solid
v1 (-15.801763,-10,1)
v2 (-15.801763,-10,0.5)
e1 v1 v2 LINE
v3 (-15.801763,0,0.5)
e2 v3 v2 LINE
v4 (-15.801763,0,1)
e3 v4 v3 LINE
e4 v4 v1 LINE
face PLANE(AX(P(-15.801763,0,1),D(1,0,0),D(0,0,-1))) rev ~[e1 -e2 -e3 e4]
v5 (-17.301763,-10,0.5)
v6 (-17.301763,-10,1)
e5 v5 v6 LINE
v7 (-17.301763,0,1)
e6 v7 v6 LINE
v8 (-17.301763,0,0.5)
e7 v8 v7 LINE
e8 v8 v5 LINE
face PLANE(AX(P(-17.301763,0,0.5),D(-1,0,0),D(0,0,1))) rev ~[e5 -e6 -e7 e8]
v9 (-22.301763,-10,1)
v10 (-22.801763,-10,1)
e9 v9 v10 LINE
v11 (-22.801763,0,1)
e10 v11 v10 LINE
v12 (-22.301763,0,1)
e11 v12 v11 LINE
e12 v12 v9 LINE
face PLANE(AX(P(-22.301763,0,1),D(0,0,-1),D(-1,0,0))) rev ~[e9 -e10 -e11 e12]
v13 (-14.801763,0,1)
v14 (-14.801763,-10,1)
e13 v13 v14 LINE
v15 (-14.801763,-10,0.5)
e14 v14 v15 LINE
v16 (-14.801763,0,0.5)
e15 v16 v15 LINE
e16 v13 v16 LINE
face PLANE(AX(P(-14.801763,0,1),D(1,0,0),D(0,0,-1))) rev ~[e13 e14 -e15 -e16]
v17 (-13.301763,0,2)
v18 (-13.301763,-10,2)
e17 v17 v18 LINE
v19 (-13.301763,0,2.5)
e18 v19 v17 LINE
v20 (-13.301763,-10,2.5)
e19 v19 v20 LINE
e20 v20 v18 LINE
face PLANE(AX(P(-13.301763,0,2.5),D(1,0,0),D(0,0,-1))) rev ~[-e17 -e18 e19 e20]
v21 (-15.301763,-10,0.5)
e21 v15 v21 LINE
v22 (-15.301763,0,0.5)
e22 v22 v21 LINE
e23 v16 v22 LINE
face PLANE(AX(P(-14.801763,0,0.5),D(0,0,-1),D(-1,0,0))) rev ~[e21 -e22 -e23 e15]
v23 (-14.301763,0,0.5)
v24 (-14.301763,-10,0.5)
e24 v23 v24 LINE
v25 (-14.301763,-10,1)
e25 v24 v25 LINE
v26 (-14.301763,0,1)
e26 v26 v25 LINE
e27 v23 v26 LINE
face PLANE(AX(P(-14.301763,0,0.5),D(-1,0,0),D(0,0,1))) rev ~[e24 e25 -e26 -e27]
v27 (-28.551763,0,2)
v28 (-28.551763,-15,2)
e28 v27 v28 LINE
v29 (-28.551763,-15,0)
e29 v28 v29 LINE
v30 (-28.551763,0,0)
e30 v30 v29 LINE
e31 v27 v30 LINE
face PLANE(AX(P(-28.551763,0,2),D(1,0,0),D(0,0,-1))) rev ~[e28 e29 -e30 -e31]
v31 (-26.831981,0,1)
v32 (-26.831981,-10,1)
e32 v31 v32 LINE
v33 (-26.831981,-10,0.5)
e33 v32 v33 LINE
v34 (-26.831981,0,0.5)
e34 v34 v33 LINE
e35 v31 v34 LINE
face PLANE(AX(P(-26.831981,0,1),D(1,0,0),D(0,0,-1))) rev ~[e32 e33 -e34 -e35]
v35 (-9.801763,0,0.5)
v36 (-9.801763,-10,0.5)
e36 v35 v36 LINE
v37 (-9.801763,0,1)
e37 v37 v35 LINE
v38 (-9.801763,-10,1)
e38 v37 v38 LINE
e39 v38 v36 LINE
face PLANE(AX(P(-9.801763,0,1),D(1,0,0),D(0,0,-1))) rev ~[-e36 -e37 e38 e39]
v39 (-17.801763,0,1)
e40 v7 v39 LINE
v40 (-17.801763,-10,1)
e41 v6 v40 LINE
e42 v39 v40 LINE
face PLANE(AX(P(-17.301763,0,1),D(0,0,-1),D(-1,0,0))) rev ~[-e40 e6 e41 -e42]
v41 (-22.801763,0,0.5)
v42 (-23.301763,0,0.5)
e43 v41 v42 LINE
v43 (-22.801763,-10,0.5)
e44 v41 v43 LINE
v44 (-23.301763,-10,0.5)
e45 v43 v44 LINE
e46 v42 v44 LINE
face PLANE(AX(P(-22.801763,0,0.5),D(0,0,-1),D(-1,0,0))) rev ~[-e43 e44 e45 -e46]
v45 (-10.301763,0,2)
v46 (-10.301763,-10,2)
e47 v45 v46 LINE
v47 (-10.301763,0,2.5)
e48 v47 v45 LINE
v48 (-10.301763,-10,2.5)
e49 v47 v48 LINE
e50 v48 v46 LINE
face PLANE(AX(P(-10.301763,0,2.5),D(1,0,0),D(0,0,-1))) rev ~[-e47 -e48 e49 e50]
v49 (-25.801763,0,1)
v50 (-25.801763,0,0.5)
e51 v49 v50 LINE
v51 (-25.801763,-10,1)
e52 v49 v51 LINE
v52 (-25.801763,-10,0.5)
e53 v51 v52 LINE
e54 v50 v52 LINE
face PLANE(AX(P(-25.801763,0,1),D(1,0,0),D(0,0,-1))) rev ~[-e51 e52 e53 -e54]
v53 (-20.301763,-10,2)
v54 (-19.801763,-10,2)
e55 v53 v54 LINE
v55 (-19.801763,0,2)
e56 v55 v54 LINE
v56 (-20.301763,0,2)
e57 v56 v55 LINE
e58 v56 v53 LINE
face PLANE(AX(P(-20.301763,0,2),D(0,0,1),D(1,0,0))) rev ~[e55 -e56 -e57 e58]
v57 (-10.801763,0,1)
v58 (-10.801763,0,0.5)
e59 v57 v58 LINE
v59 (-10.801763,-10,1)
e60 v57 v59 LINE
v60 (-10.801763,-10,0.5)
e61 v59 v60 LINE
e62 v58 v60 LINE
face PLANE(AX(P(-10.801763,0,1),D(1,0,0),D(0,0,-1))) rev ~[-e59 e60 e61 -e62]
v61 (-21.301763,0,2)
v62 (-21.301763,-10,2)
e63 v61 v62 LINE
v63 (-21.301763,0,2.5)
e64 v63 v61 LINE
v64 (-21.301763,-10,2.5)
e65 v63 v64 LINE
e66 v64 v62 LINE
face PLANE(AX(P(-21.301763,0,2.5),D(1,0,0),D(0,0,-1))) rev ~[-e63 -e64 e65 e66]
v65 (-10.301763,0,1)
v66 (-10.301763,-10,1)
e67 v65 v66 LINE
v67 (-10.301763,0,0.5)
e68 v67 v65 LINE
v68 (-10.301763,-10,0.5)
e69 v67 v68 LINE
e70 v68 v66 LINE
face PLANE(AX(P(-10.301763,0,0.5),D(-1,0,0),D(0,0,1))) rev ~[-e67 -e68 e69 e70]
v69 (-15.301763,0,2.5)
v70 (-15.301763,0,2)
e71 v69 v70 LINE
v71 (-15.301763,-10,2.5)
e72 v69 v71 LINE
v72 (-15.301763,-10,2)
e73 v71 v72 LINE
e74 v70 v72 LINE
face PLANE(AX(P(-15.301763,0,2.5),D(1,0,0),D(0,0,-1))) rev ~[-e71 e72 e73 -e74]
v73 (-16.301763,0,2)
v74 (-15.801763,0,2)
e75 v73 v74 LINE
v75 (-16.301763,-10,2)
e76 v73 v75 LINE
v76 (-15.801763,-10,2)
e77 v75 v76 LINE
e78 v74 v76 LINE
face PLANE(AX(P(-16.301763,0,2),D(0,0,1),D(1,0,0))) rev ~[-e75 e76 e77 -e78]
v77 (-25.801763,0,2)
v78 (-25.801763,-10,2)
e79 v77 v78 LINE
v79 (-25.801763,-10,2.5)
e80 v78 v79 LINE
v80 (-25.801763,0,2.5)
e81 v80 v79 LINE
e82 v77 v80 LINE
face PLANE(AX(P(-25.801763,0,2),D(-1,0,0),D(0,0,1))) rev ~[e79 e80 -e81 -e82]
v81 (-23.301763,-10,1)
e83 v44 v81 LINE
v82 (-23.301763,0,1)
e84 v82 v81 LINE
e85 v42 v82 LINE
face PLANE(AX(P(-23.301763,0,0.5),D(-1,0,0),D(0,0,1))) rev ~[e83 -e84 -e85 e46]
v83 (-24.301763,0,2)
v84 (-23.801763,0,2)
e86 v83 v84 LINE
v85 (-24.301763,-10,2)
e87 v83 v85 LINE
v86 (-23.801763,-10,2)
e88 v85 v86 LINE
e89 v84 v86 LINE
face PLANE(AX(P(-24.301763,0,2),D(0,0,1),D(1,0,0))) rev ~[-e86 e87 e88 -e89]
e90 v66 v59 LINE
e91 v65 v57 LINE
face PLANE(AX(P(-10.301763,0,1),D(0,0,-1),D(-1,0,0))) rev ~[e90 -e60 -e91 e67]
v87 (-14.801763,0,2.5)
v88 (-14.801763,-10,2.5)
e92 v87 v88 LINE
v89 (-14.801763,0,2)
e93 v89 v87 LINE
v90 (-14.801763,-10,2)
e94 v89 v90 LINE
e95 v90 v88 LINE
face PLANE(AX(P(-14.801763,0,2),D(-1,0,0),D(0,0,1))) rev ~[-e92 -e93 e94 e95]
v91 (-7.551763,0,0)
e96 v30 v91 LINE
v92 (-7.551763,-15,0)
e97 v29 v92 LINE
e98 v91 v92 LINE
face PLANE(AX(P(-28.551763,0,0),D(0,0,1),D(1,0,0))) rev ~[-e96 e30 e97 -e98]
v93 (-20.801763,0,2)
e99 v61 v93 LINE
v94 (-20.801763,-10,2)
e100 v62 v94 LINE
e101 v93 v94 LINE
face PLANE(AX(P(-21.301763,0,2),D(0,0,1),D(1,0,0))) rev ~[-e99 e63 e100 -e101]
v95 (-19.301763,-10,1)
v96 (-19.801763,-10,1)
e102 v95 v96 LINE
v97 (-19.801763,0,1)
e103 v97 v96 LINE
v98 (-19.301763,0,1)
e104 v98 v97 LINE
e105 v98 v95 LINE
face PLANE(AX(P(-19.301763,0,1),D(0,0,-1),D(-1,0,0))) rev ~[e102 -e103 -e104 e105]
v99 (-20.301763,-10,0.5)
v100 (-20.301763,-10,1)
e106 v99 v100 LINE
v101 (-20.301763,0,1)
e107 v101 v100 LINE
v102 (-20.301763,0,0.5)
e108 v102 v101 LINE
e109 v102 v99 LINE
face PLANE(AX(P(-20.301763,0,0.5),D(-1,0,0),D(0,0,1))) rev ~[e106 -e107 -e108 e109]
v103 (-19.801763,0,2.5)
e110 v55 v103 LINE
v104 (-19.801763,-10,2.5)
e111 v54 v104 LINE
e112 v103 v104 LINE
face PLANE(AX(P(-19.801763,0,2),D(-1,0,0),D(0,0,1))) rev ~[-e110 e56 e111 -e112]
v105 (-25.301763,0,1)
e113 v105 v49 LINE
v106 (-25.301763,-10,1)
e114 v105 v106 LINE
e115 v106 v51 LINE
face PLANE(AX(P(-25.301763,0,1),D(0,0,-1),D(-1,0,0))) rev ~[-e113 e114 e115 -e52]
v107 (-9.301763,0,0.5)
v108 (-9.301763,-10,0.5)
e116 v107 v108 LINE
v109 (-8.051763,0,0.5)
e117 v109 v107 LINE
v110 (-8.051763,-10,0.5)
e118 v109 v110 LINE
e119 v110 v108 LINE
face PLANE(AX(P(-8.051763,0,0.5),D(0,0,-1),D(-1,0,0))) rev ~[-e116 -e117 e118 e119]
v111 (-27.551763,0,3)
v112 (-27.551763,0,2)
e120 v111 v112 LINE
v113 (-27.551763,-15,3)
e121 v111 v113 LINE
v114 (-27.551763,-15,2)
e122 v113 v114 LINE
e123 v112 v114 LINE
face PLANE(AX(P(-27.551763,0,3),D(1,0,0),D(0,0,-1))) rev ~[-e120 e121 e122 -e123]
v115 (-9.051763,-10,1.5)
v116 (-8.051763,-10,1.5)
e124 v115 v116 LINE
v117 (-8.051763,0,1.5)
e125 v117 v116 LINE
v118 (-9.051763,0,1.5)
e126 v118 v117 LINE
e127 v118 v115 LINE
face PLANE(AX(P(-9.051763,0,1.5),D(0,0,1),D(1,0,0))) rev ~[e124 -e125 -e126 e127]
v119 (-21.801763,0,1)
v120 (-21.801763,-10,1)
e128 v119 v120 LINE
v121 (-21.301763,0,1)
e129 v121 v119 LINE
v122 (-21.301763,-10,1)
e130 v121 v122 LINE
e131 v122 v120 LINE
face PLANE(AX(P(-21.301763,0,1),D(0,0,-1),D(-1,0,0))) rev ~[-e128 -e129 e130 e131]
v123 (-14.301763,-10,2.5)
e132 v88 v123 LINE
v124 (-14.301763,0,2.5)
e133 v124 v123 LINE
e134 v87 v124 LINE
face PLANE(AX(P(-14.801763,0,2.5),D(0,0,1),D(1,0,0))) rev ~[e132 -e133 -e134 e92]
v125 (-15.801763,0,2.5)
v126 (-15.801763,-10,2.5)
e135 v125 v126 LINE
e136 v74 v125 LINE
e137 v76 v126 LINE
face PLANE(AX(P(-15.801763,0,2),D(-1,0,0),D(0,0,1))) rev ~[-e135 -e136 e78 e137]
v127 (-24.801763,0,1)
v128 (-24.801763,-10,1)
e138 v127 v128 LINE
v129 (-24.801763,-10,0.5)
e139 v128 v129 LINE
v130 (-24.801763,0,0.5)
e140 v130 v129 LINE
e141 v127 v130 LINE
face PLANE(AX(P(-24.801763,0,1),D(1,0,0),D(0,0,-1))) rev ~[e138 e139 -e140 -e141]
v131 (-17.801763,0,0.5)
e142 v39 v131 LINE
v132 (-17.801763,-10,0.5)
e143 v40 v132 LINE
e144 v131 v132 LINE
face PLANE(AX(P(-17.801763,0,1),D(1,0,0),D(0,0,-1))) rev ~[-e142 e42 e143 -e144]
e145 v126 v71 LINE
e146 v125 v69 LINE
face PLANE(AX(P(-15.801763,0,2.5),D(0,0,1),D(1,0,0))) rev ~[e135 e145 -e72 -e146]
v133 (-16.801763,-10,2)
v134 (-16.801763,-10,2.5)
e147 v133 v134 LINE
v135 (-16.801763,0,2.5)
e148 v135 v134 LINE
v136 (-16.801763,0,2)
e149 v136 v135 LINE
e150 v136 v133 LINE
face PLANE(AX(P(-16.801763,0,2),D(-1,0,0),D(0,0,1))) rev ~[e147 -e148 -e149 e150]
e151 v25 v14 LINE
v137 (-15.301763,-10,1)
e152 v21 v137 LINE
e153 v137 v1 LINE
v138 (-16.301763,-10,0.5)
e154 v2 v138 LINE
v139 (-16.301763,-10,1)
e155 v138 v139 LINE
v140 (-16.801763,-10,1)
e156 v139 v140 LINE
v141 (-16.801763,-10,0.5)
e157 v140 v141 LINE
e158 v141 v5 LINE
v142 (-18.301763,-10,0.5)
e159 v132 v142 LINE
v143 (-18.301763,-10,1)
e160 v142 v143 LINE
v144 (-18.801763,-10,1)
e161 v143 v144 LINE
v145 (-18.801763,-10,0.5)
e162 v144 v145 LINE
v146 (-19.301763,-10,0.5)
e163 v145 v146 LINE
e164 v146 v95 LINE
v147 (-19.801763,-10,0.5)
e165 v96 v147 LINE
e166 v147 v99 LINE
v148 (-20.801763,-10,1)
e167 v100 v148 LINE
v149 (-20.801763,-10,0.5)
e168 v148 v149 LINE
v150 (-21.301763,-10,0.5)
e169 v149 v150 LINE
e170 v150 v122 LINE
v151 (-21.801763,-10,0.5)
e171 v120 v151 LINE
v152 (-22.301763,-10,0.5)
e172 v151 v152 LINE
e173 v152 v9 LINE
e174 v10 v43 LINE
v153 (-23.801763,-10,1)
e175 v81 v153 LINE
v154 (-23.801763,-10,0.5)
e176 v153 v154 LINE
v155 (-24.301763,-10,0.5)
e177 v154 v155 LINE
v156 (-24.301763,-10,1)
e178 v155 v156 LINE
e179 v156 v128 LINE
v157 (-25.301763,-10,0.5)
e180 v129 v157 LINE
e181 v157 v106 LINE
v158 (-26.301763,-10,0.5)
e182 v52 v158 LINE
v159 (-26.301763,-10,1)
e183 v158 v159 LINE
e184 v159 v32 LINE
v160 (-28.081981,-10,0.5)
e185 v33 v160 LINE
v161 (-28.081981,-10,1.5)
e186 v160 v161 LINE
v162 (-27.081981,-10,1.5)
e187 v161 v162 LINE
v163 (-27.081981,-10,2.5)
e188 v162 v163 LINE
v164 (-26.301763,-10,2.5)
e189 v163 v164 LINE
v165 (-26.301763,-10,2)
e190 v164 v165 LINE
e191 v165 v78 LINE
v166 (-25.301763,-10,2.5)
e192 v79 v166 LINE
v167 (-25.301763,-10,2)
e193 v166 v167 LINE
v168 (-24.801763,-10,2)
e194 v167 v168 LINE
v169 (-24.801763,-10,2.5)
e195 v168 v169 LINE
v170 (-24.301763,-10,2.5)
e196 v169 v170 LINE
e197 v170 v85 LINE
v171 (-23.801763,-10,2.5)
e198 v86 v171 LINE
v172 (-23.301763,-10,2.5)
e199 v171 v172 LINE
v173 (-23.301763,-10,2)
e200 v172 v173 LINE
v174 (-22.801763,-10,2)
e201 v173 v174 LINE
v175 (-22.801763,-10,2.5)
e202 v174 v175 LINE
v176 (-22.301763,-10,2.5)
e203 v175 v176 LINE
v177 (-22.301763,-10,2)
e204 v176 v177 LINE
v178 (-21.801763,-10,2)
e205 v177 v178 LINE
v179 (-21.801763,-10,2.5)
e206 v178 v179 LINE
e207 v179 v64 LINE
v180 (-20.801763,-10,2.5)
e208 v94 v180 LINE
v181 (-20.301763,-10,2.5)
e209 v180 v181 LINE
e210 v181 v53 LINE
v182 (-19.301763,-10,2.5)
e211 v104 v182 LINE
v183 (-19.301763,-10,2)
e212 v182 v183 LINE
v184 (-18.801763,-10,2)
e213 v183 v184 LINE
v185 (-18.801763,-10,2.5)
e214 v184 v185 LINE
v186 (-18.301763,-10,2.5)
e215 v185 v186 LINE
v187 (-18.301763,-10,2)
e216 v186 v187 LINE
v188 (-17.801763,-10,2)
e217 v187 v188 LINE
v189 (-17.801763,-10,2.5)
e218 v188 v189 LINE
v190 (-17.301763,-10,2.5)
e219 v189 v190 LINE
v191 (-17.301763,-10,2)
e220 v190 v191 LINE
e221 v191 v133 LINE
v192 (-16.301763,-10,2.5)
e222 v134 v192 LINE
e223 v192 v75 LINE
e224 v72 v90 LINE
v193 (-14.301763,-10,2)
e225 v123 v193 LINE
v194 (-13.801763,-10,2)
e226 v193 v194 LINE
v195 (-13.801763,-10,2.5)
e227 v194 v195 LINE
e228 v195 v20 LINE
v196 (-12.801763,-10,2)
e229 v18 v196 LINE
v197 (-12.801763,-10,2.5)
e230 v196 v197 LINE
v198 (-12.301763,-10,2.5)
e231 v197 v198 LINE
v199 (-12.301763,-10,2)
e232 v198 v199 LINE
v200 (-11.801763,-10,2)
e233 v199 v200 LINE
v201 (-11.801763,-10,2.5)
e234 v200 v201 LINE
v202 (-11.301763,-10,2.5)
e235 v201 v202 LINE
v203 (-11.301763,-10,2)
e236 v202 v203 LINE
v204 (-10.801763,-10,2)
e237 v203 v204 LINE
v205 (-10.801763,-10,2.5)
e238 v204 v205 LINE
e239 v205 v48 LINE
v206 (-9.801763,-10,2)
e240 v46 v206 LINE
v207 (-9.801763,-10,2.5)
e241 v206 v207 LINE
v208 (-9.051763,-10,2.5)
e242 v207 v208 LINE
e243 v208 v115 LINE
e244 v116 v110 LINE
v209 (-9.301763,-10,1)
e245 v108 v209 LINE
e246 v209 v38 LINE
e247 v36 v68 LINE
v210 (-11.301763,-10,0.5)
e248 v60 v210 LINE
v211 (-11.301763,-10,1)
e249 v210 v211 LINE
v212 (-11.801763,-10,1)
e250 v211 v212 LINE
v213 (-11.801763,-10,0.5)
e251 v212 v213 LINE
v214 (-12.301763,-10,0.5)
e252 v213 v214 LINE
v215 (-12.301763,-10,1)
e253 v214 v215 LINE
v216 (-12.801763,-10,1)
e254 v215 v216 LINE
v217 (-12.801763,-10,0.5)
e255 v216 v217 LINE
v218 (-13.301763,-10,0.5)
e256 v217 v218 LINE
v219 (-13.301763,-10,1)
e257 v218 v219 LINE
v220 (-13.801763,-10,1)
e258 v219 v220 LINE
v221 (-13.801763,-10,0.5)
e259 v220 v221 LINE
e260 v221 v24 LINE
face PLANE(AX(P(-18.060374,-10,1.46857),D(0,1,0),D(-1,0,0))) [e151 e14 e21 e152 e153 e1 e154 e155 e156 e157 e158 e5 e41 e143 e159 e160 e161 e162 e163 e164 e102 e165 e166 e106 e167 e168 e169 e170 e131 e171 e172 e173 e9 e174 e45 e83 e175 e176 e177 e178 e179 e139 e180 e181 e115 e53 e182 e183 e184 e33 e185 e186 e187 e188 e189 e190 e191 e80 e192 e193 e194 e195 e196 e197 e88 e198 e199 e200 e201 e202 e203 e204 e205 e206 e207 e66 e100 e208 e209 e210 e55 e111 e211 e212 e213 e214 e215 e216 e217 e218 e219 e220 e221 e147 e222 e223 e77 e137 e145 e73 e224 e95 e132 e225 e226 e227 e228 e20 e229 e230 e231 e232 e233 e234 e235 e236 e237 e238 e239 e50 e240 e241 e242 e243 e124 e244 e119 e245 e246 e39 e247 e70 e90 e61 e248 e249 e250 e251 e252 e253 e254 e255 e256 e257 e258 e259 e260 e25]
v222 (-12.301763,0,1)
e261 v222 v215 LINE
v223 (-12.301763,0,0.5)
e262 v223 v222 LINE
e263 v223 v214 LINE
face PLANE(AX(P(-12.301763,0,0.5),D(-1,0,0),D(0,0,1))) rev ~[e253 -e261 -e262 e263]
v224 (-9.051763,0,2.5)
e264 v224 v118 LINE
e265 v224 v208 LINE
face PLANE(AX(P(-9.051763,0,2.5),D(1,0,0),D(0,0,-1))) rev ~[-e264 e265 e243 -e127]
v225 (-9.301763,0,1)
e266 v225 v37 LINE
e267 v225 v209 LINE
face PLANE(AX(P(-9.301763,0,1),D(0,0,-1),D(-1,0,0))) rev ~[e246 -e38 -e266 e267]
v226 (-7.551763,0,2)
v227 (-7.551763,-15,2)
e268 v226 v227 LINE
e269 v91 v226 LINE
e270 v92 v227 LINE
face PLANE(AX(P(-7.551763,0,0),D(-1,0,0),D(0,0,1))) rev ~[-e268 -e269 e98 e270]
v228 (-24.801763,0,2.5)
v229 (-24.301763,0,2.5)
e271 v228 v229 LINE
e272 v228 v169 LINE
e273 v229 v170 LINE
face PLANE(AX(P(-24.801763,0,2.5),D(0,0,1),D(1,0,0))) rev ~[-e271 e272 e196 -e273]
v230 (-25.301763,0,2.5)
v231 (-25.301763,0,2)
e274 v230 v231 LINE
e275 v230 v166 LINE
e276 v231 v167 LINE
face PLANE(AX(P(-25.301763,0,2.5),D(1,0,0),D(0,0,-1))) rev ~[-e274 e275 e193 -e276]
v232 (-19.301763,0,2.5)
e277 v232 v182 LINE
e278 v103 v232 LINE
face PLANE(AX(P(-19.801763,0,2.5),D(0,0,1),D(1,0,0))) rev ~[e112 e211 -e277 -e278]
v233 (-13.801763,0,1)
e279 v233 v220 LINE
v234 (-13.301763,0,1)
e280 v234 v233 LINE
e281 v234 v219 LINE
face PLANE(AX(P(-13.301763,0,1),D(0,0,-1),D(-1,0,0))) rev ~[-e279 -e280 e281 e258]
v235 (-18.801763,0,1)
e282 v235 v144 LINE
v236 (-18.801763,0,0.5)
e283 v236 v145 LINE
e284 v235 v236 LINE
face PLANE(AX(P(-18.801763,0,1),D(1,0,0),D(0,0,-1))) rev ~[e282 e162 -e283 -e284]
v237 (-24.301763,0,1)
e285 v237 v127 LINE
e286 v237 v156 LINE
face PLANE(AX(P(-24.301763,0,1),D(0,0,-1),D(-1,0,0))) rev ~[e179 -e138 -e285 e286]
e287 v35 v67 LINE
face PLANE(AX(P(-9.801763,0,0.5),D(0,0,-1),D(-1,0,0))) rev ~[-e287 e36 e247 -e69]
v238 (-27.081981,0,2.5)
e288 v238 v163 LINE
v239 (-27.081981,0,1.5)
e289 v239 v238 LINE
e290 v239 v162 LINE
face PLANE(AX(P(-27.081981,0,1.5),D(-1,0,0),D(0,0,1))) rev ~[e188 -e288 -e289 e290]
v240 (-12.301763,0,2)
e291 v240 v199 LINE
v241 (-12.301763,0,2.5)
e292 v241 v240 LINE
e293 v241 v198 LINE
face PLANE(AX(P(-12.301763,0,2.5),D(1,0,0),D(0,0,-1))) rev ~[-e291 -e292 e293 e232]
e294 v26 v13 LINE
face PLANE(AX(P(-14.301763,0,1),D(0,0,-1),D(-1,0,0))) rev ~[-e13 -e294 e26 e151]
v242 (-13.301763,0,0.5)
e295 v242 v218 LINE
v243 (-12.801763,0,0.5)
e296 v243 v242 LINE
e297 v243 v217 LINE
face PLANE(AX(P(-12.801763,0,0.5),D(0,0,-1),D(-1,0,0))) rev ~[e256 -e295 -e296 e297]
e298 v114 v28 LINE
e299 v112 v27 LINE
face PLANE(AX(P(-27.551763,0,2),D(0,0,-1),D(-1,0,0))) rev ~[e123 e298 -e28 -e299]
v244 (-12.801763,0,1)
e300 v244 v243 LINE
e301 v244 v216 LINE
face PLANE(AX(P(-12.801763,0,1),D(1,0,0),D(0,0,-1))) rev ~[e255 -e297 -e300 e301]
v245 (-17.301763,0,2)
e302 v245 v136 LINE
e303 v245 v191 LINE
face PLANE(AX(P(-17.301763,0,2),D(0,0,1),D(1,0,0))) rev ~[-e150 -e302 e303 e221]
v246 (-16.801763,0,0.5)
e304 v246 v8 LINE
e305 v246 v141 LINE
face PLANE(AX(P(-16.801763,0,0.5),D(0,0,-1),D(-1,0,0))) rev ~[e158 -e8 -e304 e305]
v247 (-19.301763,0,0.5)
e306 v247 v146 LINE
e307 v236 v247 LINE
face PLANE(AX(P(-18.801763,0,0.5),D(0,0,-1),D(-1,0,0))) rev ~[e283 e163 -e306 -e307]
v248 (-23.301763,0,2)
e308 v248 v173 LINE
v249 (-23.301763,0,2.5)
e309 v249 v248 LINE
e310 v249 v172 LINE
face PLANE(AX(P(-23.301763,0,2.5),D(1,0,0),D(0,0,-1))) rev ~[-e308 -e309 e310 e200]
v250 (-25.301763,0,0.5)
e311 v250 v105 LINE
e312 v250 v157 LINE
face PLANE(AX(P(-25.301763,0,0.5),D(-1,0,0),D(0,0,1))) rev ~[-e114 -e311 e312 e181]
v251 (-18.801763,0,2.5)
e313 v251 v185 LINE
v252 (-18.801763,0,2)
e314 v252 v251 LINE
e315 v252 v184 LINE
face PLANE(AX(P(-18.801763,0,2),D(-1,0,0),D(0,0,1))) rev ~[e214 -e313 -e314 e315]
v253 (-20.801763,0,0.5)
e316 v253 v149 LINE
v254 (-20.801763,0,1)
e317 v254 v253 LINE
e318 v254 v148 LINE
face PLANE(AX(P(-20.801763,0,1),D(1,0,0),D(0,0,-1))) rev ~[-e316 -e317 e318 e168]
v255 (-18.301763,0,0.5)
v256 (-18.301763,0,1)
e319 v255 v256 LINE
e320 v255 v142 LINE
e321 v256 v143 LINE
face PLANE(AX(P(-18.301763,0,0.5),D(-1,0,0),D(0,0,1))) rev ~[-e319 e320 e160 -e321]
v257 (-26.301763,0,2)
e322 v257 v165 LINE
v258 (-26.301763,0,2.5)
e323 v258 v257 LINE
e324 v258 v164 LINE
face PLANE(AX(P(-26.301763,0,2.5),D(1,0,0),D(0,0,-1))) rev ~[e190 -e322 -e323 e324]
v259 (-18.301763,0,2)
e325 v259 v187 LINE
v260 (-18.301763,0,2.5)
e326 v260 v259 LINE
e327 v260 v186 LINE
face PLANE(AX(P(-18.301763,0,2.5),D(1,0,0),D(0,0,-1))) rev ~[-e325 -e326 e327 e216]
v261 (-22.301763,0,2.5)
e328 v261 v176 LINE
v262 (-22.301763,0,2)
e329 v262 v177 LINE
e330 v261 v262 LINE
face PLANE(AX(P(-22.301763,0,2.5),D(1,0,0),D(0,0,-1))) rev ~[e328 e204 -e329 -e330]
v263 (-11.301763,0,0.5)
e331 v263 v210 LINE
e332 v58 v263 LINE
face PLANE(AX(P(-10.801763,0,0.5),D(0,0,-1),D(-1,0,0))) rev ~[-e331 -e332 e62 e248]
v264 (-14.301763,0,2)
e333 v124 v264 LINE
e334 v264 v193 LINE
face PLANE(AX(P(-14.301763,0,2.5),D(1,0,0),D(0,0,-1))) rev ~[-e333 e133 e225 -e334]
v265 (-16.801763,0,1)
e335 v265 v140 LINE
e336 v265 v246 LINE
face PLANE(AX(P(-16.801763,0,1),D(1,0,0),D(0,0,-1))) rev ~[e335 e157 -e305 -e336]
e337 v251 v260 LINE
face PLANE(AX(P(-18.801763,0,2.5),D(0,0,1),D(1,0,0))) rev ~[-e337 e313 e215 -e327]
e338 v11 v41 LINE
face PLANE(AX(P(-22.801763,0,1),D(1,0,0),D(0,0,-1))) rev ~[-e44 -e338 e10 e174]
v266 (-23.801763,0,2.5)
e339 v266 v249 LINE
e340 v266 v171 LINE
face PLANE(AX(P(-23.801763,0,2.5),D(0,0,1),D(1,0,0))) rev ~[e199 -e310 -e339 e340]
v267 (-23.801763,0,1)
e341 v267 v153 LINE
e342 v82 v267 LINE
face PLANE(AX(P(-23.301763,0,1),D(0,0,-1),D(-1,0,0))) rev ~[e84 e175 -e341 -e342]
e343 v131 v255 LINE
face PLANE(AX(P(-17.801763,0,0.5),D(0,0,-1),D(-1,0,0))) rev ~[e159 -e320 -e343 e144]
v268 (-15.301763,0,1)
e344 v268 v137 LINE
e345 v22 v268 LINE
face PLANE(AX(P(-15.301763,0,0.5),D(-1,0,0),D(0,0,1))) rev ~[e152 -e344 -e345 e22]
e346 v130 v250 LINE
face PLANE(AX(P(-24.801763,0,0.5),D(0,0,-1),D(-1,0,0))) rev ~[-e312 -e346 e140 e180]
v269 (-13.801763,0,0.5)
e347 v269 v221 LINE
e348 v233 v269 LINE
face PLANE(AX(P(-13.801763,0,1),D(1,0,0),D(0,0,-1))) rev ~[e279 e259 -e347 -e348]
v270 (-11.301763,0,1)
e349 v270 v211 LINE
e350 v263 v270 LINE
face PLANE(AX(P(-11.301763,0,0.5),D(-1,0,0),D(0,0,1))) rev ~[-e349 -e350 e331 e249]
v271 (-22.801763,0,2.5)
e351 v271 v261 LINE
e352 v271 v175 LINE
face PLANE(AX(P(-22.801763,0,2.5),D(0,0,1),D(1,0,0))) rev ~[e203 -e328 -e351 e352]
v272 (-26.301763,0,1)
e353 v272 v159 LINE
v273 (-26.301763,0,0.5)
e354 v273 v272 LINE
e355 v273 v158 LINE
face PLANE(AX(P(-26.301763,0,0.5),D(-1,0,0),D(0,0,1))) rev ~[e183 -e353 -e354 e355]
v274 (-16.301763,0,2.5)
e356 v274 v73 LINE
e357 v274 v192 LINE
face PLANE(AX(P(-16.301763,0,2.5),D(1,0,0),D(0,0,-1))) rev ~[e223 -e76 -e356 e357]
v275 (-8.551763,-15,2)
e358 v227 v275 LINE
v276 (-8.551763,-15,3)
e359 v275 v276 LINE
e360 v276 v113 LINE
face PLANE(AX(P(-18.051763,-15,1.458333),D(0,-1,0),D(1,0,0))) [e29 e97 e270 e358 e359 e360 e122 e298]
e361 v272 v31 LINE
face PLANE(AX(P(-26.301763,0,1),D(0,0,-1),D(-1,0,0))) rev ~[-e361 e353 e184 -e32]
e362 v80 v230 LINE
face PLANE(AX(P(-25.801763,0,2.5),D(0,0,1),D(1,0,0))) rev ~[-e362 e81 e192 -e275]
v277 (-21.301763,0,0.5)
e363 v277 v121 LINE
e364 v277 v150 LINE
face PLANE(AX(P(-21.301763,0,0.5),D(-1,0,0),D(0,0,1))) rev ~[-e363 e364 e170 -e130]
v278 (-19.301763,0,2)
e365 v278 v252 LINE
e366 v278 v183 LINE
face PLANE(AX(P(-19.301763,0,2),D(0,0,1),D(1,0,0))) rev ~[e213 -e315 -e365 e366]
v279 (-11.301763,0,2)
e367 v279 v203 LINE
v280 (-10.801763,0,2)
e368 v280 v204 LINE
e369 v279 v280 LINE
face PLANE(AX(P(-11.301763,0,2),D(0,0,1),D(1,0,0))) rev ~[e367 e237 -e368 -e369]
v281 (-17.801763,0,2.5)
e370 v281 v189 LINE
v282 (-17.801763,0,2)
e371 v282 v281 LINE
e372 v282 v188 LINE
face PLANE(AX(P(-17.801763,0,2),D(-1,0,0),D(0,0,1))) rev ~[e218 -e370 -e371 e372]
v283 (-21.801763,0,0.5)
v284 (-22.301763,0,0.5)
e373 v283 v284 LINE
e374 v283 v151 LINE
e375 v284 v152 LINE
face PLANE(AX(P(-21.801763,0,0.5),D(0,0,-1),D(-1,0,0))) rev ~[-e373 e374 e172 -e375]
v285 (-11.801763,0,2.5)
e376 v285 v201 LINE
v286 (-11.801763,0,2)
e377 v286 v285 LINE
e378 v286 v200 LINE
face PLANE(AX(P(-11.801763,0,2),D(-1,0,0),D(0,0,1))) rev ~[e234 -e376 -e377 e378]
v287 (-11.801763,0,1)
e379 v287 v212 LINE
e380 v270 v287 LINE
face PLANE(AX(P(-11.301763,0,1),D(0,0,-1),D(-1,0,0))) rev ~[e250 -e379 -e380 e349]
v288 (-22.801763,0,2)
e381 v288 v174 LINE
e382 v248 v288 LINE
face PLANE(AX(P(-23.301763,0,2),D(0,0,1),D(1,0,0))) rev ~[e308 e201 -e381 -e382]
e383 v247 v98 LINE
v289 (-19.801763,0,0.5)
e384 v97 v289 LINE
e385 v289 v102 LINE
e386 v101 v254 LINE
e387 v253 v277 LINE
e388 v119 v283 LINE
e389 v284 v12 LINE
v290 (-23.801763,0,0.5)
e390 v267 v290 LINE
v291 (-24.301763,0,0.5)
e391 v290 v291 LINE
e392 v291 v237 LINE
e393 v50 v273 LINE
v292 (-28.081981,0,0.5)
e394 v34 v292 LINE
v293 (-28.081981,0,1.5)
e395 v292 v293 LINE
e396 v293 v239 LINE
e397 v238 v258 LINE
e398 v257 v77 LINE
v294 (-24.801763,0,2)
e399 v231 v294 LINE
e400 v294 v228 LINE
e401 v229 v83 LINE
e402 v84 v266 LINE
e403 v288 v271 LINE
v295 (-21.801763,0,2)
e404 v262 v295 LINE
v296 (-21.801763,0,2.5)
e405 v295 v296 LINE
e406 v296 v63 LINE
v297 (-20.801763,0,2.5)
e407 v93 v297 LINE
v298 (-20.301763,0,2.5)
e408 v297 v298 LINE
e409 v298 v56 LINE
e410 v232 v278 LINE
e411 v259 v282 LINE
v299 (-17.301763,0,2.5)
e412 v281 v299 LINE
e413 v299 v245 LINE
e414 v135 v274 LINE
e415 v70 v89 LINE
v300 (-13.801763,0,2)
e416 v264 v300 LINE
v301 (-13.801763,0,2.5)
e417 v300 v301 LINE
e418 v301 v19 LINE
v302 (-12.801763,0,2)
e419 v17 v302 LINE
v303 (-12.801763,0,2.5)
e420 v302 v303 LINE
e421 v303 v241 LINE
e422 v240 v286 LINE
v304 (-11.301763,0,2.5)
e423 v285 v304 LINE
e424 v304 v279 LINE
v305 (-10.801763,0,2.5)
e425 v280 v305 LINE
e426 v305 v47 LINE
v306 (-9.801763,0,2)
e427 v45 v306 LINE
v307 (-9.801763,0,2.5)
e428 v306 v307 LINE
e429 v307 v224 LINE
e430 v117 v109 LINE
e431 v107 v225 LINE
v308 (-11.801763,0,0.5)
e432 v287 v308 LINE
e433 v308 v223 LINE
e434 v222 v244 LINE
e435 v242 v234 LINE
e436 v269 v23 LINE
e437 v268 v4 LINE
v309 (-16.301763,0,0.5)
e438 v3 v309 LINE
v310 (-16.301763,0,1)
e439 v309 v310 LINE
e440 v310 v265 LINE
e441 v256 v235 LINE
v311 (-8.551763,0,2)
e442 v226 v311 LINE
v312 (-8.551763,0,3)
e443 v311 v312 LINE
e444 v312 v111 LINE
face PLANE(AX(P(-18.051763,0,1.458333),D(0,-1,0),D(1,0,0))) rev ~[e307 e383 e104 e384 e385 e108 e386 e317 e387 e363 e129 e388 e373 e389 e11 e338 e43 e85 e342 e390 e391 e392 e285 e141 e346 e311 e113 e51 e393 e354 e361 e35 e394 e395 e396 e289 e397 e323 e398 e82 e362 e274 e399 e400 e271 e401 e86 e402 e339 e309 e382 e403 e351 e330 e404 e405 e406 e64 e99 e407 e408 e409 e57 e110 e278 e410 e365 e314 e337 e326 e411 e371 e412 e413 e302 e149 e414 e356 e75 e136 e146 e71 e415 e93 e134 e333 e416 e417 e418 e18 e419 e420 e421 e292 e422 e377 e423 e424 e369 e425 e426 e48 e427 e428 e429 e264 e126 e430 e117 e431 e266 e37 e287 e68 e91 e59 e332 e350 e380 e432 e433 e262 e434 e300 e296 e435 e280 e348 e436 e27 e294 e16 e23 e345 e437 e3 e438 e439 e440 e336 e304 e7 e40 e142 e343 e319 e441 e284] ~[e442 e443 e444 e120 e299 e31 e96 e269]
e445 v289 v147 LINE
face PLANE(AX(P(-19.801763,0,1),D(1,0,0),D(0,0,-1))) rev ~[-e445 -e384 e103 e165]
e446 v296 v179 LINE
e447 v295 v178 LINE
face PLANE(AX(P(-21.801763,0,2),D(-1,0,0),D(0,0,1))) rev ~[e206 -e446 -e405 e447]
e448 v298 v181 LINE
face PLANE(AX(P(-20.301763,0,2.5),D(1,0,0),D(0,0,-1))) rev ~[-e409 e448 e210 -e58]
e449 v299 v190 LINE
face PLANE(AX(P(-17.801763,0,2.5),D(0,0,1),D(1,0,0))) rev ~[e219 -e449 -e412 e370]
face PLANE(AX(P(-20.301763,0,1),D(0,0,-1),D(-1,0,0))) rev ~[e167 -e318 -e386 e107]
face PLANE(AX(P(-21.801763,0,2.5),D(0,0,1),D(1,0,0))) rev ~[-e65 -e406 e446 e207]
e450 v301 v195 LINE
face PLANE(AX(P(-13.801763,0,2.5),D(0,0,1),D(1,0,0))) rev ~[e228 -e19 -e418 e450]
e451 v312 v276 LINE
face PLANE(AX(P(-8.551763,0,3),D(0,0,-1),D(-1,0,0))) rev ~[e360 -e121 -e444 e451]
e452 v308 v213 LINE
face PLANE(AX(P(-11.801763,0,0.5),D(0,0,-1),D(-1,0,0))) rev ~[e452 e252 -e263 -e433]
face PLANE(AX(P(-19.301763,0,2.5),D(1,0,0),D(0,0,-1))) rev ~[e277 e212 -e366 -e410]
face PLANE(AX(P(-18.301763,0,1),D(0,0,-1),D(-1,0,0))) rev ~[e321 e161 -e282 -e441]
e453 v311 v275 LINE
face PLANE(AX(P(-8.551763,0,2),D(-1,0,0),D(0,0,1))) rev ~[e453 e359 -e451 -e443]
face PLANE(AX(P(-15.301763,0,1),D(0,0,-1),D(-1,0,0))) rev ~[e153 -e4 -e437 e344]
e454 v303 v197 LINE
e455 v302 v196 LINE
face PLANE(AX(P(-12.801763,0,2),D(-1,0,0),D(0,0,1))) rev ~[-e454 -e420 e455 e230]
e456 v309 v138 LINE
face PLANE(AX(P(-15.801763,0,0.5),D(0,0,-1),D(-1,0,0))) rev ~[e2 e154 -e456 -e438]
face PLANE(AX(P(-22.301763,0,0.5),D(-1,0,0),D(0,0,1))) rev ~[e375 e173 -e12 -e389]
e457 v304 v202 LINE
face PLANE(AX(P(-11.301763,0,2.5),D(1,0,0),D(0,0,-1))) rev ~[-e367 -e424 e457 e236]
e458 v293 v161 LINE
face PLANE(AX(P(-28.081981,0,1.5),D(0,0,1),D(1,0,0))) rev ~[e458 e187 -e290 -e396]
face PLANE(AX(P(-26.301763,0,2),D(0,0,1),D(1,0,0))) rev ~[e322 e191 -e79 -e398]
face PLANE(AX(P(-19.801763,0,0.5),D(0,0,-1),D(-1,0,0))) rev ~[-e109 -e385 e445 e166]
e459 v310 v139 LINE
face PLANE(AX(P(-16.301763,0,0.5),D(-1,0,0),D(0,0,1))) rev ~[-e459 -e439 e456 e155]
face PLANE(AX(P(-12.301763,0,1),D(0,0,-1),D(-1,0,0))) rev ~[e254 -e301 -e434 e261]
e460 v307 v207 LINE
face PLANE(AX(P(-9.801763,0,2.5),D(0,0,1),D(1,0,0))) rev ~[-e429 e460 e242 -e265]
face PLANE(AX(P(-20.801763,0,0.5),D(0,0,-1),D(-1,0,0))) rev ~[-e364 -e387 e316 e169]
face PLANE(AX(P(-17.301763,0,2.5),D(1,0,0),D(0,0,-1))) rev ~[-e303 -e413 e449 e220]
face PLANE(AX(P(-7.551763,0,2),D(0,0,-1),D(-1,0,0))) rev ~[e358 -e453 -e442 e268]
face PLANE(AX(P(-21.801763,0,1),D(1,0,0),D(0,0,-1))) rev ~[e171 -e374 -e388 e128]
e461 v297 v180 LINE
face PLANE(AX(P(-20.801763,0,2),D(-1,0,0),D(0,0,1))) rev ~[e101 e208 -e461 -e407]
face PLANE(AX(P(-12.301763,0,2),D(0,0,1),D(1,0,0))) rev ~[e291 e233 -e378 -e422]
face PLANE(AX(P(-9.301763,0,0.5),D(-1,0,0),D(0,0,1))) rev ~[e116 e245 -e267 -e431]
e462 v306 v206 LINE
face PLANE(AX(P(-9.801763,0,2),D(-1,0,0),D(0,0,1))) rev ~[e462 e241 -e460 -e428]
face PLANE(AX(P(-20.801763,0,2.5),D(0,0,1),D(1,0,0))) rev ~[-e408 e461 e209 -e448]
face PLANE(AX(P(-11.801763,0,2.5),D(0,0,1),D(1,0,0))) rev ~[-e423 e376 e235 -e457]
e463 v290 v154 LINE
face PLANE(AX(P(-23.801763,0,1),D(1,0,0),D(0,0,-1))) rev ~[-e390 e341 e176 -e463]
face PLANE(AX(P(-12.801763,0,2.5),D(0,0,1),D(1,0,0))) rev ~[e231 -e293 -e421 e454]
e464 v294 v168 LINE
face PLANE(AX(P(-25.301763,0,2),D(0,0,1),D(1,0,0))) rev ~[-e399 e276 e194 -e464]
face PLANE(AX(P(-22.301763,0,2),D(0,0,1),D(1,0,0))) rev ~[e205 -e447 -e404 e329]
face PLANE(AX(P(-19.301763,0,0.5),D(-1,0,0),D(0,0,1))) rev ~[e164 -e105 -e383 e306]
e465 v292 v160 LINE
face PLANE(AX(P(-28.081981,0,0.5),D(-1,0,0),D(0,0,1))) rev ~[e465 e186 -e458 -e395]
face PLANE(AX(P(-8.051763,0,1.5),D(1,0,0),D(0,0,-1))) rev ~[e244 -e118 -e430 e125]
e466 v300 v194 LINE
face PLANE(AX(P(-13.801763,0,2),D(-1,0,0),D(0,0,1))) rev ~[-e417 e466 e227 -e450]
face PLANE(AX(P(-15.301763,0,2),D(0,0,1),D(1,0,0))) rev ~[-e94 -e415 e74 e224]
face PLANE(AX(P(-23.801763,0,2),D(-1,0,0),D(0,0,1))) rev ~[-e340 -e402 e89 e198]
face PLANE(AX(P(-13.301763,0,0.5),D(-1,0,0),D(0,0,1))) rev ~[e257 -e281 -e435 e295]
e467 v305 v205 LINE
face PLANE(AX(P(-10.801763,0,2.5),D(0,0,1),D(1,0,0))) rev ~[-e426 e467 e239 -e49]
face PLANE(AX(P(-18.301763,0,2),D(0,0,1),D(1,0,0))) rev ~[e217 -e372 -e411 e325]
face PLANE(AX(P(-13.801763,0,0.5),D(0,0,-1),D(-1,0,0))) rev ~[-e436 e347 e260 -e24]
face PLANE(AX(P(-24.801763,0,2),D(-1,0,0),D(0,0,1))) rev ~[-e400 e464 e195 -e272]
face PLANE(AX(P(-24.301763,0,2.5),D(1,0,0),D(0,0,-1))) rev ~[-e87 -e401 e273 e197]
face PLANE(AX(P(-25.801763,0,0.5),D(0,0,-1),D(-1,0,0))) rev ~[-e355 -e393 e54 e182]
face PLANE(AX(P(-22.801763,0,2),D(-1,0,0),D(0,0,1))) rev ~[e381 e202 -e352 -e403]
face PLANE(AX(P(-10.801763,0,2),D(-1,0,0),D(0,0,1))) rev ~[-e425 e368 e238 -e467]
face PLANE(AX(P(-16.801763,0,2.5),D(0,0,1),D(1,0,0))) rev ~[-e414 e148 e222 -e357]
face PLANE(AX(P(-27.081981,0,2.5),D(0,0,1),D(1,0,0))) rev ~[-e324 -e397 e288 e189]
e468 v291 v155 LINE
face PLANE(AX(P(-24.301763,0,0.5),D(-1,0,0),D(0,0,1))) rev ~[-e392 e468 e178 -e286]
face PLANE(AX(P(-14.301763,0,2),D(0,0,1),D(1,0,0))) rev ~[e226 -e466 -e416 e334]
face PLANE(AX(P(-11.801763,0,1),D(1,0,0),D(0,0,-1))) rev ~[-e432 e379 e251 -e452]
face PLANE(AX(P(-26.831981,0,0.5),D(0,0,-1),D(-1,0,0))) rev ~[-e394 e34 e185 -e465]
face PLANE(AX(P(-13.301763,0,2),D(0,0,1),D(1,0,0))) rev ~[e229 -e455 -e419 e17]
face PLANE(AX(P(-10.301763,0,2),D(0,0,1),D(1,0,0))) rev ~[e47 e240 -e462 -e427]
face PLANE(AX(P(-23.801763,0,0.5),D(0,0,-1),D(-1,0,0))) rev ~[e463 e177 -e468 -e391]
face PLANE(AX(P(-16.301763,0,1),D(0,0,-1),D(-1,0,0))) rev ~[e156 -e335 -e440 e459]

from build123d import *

# Parameters (mm, degrees)
F1_DEPTH = 15
F3_DEPTH = 10


with BuildPart() as f1:
    # F0 (on Front) → F1 (new body)
    with BuildSketch(Plane.XZ):
        Polygon((-28.551763, 0), (-7.551763, 0), (-7.551763, 2), (-8.551763, 2), (-8.551763, 3), (-27.551763, 3), (-27.551763, 2), (-28.551763, 2), align=None)
    extrude(amount=F1_DEPTH)

    # F2 (on face) → F3 (cut)
    with BuildSketch(Plane(origin=(0, 0, 0), x_dir=(-1, 0, 0), z_dir=(0, 1, 0))):
        Polygon((8.051763, 1.5), (8.051763, 0.5), (9.301763, 0.5), (9.301763, 1), (9.801763, 1), (9.801763, 0.5), (10.301763, 0.5), (10.301763, 1), (10.801763, 1), (10.801763, 0.5), (11.301763, 0.5), (11.301763, 1), (11.801763, 1), (11.801763, 0.5), (12.301763, 0.5), (12.301763, 1), (12.801763, 1), (12.801763, 0.5), (13.301763, 0.5), (13.301763, 1), (13.801763, 1), (13.801763, 0.5), (14.301763, 0.5), (14.301763, 1), (14.801763, 1), (14.801763, 0.5), (15.301763, 0.5), (15.301763, 1), (15.801763, 1), (15.801763, 0.5), (16.301763, 0.5), (16.301763, 1), (16.801763, 1), (16.801763, 0.5), (17.301763, 0.5), (17.301763, 1), (17.801763, 1), (17.801763, 0.5), (18.301763, 0.5), (18.301763, 1), (18.801763, 1), (18.801763, 0.5), (19.301763, 0.5), (19.301763, 1), (19.801763, 1), (19.801763, 0.5), (20.301763, 0.5), (20.301763, 1), (20.801763, 1), (20.801763, 0.5), (21.301763, 0.5), (21.301763, 1), (21.801763, 1), (21.801763, 0.5), (22.301763, 0.5), (22.301763, 1), (22.801763, 1), (22.801763, 0.5), (23.301763, 0.5), (23.301763, 1), (23.801763, 1), (23.801763, 0.5), (24.301763, 0.5), (24.301763, 1), (24.801763, 1), (24.801763, 0.5), (25.301763, 0.5), (25.301763, 1), (25.801763, 1), (25.801763, 0.5), (26.301763, 0.5), (26.301763, 1), (26.831981, 1), (26.831981, 0.5), (28.081981, 0.5), (28.081981, 1.5), (27.081981, 1.5), (27.081981, 2.5), (26.301763, 2.5), (26.301763, 2), (25.801763, 2), (25.801763, 2.5), (25.301763, 2.5), (25.301763, 2), (24.801763, 2), (24.801763, 2.5), (24.301763, 2.5), (24.301763, 2), (23.801763, 2), (23.801763, 2.5), (23.301763, 2.5), (23.301763, 2), (22.801763, 2), (22.801763, 2.5), (22.301763, 2.5), (22.301763, 2), (21.801763, 2), (21.801763, 2.5), (21.301763, 2.5), (21.301763, 2), (20.801763, 2), (20.801763, 2.5), (20.301763, 2.5), (20.301763, 2), (19.801763, 2), (19.801763, 2.5), (19.301763, 2.5), (19.301763, 2), (18.801763, 2), (18.801763, 2.5), (18.301763, 2.5), (18.301763, 2), (17.801763, 2), (17.801763, 2.5), (17.301763, 2.5), (17.301763, 2), (16.801763, 2), (16.801763, 2.5), (16.301763, 2.5), (16.301763, 2), (15.801763, 2), (15.801763, 2.5), (15.301763, 2.5), (15.301763, 2), (14.801763, 2), (14.801763, 2.5), (14.301763, 2.5), (14.301763, 2), (13.801763, 2), (13.801763, 2.5), (13.301763, 2.5), (13.301763, 2), (12.801763, 2), (12.801763, 2.5), (12.301763, 2.5), (12.301763, 2), (11.801763, 2), (11.801763, 2.5), (11.301763, 2.5), (11.301763, 2), (10.801763, 2), (10.801763, 2.5), (10.301763, 2.5), (10.301763, 2), (9.801763, 2), (9.801763, 2.5), (9.051763, 2.5), (9.051763, 1.5), align=None)
    extrude(amount=-F3_DEPTH, mode=Mode.SUBTRACT)


solid = f1.part
